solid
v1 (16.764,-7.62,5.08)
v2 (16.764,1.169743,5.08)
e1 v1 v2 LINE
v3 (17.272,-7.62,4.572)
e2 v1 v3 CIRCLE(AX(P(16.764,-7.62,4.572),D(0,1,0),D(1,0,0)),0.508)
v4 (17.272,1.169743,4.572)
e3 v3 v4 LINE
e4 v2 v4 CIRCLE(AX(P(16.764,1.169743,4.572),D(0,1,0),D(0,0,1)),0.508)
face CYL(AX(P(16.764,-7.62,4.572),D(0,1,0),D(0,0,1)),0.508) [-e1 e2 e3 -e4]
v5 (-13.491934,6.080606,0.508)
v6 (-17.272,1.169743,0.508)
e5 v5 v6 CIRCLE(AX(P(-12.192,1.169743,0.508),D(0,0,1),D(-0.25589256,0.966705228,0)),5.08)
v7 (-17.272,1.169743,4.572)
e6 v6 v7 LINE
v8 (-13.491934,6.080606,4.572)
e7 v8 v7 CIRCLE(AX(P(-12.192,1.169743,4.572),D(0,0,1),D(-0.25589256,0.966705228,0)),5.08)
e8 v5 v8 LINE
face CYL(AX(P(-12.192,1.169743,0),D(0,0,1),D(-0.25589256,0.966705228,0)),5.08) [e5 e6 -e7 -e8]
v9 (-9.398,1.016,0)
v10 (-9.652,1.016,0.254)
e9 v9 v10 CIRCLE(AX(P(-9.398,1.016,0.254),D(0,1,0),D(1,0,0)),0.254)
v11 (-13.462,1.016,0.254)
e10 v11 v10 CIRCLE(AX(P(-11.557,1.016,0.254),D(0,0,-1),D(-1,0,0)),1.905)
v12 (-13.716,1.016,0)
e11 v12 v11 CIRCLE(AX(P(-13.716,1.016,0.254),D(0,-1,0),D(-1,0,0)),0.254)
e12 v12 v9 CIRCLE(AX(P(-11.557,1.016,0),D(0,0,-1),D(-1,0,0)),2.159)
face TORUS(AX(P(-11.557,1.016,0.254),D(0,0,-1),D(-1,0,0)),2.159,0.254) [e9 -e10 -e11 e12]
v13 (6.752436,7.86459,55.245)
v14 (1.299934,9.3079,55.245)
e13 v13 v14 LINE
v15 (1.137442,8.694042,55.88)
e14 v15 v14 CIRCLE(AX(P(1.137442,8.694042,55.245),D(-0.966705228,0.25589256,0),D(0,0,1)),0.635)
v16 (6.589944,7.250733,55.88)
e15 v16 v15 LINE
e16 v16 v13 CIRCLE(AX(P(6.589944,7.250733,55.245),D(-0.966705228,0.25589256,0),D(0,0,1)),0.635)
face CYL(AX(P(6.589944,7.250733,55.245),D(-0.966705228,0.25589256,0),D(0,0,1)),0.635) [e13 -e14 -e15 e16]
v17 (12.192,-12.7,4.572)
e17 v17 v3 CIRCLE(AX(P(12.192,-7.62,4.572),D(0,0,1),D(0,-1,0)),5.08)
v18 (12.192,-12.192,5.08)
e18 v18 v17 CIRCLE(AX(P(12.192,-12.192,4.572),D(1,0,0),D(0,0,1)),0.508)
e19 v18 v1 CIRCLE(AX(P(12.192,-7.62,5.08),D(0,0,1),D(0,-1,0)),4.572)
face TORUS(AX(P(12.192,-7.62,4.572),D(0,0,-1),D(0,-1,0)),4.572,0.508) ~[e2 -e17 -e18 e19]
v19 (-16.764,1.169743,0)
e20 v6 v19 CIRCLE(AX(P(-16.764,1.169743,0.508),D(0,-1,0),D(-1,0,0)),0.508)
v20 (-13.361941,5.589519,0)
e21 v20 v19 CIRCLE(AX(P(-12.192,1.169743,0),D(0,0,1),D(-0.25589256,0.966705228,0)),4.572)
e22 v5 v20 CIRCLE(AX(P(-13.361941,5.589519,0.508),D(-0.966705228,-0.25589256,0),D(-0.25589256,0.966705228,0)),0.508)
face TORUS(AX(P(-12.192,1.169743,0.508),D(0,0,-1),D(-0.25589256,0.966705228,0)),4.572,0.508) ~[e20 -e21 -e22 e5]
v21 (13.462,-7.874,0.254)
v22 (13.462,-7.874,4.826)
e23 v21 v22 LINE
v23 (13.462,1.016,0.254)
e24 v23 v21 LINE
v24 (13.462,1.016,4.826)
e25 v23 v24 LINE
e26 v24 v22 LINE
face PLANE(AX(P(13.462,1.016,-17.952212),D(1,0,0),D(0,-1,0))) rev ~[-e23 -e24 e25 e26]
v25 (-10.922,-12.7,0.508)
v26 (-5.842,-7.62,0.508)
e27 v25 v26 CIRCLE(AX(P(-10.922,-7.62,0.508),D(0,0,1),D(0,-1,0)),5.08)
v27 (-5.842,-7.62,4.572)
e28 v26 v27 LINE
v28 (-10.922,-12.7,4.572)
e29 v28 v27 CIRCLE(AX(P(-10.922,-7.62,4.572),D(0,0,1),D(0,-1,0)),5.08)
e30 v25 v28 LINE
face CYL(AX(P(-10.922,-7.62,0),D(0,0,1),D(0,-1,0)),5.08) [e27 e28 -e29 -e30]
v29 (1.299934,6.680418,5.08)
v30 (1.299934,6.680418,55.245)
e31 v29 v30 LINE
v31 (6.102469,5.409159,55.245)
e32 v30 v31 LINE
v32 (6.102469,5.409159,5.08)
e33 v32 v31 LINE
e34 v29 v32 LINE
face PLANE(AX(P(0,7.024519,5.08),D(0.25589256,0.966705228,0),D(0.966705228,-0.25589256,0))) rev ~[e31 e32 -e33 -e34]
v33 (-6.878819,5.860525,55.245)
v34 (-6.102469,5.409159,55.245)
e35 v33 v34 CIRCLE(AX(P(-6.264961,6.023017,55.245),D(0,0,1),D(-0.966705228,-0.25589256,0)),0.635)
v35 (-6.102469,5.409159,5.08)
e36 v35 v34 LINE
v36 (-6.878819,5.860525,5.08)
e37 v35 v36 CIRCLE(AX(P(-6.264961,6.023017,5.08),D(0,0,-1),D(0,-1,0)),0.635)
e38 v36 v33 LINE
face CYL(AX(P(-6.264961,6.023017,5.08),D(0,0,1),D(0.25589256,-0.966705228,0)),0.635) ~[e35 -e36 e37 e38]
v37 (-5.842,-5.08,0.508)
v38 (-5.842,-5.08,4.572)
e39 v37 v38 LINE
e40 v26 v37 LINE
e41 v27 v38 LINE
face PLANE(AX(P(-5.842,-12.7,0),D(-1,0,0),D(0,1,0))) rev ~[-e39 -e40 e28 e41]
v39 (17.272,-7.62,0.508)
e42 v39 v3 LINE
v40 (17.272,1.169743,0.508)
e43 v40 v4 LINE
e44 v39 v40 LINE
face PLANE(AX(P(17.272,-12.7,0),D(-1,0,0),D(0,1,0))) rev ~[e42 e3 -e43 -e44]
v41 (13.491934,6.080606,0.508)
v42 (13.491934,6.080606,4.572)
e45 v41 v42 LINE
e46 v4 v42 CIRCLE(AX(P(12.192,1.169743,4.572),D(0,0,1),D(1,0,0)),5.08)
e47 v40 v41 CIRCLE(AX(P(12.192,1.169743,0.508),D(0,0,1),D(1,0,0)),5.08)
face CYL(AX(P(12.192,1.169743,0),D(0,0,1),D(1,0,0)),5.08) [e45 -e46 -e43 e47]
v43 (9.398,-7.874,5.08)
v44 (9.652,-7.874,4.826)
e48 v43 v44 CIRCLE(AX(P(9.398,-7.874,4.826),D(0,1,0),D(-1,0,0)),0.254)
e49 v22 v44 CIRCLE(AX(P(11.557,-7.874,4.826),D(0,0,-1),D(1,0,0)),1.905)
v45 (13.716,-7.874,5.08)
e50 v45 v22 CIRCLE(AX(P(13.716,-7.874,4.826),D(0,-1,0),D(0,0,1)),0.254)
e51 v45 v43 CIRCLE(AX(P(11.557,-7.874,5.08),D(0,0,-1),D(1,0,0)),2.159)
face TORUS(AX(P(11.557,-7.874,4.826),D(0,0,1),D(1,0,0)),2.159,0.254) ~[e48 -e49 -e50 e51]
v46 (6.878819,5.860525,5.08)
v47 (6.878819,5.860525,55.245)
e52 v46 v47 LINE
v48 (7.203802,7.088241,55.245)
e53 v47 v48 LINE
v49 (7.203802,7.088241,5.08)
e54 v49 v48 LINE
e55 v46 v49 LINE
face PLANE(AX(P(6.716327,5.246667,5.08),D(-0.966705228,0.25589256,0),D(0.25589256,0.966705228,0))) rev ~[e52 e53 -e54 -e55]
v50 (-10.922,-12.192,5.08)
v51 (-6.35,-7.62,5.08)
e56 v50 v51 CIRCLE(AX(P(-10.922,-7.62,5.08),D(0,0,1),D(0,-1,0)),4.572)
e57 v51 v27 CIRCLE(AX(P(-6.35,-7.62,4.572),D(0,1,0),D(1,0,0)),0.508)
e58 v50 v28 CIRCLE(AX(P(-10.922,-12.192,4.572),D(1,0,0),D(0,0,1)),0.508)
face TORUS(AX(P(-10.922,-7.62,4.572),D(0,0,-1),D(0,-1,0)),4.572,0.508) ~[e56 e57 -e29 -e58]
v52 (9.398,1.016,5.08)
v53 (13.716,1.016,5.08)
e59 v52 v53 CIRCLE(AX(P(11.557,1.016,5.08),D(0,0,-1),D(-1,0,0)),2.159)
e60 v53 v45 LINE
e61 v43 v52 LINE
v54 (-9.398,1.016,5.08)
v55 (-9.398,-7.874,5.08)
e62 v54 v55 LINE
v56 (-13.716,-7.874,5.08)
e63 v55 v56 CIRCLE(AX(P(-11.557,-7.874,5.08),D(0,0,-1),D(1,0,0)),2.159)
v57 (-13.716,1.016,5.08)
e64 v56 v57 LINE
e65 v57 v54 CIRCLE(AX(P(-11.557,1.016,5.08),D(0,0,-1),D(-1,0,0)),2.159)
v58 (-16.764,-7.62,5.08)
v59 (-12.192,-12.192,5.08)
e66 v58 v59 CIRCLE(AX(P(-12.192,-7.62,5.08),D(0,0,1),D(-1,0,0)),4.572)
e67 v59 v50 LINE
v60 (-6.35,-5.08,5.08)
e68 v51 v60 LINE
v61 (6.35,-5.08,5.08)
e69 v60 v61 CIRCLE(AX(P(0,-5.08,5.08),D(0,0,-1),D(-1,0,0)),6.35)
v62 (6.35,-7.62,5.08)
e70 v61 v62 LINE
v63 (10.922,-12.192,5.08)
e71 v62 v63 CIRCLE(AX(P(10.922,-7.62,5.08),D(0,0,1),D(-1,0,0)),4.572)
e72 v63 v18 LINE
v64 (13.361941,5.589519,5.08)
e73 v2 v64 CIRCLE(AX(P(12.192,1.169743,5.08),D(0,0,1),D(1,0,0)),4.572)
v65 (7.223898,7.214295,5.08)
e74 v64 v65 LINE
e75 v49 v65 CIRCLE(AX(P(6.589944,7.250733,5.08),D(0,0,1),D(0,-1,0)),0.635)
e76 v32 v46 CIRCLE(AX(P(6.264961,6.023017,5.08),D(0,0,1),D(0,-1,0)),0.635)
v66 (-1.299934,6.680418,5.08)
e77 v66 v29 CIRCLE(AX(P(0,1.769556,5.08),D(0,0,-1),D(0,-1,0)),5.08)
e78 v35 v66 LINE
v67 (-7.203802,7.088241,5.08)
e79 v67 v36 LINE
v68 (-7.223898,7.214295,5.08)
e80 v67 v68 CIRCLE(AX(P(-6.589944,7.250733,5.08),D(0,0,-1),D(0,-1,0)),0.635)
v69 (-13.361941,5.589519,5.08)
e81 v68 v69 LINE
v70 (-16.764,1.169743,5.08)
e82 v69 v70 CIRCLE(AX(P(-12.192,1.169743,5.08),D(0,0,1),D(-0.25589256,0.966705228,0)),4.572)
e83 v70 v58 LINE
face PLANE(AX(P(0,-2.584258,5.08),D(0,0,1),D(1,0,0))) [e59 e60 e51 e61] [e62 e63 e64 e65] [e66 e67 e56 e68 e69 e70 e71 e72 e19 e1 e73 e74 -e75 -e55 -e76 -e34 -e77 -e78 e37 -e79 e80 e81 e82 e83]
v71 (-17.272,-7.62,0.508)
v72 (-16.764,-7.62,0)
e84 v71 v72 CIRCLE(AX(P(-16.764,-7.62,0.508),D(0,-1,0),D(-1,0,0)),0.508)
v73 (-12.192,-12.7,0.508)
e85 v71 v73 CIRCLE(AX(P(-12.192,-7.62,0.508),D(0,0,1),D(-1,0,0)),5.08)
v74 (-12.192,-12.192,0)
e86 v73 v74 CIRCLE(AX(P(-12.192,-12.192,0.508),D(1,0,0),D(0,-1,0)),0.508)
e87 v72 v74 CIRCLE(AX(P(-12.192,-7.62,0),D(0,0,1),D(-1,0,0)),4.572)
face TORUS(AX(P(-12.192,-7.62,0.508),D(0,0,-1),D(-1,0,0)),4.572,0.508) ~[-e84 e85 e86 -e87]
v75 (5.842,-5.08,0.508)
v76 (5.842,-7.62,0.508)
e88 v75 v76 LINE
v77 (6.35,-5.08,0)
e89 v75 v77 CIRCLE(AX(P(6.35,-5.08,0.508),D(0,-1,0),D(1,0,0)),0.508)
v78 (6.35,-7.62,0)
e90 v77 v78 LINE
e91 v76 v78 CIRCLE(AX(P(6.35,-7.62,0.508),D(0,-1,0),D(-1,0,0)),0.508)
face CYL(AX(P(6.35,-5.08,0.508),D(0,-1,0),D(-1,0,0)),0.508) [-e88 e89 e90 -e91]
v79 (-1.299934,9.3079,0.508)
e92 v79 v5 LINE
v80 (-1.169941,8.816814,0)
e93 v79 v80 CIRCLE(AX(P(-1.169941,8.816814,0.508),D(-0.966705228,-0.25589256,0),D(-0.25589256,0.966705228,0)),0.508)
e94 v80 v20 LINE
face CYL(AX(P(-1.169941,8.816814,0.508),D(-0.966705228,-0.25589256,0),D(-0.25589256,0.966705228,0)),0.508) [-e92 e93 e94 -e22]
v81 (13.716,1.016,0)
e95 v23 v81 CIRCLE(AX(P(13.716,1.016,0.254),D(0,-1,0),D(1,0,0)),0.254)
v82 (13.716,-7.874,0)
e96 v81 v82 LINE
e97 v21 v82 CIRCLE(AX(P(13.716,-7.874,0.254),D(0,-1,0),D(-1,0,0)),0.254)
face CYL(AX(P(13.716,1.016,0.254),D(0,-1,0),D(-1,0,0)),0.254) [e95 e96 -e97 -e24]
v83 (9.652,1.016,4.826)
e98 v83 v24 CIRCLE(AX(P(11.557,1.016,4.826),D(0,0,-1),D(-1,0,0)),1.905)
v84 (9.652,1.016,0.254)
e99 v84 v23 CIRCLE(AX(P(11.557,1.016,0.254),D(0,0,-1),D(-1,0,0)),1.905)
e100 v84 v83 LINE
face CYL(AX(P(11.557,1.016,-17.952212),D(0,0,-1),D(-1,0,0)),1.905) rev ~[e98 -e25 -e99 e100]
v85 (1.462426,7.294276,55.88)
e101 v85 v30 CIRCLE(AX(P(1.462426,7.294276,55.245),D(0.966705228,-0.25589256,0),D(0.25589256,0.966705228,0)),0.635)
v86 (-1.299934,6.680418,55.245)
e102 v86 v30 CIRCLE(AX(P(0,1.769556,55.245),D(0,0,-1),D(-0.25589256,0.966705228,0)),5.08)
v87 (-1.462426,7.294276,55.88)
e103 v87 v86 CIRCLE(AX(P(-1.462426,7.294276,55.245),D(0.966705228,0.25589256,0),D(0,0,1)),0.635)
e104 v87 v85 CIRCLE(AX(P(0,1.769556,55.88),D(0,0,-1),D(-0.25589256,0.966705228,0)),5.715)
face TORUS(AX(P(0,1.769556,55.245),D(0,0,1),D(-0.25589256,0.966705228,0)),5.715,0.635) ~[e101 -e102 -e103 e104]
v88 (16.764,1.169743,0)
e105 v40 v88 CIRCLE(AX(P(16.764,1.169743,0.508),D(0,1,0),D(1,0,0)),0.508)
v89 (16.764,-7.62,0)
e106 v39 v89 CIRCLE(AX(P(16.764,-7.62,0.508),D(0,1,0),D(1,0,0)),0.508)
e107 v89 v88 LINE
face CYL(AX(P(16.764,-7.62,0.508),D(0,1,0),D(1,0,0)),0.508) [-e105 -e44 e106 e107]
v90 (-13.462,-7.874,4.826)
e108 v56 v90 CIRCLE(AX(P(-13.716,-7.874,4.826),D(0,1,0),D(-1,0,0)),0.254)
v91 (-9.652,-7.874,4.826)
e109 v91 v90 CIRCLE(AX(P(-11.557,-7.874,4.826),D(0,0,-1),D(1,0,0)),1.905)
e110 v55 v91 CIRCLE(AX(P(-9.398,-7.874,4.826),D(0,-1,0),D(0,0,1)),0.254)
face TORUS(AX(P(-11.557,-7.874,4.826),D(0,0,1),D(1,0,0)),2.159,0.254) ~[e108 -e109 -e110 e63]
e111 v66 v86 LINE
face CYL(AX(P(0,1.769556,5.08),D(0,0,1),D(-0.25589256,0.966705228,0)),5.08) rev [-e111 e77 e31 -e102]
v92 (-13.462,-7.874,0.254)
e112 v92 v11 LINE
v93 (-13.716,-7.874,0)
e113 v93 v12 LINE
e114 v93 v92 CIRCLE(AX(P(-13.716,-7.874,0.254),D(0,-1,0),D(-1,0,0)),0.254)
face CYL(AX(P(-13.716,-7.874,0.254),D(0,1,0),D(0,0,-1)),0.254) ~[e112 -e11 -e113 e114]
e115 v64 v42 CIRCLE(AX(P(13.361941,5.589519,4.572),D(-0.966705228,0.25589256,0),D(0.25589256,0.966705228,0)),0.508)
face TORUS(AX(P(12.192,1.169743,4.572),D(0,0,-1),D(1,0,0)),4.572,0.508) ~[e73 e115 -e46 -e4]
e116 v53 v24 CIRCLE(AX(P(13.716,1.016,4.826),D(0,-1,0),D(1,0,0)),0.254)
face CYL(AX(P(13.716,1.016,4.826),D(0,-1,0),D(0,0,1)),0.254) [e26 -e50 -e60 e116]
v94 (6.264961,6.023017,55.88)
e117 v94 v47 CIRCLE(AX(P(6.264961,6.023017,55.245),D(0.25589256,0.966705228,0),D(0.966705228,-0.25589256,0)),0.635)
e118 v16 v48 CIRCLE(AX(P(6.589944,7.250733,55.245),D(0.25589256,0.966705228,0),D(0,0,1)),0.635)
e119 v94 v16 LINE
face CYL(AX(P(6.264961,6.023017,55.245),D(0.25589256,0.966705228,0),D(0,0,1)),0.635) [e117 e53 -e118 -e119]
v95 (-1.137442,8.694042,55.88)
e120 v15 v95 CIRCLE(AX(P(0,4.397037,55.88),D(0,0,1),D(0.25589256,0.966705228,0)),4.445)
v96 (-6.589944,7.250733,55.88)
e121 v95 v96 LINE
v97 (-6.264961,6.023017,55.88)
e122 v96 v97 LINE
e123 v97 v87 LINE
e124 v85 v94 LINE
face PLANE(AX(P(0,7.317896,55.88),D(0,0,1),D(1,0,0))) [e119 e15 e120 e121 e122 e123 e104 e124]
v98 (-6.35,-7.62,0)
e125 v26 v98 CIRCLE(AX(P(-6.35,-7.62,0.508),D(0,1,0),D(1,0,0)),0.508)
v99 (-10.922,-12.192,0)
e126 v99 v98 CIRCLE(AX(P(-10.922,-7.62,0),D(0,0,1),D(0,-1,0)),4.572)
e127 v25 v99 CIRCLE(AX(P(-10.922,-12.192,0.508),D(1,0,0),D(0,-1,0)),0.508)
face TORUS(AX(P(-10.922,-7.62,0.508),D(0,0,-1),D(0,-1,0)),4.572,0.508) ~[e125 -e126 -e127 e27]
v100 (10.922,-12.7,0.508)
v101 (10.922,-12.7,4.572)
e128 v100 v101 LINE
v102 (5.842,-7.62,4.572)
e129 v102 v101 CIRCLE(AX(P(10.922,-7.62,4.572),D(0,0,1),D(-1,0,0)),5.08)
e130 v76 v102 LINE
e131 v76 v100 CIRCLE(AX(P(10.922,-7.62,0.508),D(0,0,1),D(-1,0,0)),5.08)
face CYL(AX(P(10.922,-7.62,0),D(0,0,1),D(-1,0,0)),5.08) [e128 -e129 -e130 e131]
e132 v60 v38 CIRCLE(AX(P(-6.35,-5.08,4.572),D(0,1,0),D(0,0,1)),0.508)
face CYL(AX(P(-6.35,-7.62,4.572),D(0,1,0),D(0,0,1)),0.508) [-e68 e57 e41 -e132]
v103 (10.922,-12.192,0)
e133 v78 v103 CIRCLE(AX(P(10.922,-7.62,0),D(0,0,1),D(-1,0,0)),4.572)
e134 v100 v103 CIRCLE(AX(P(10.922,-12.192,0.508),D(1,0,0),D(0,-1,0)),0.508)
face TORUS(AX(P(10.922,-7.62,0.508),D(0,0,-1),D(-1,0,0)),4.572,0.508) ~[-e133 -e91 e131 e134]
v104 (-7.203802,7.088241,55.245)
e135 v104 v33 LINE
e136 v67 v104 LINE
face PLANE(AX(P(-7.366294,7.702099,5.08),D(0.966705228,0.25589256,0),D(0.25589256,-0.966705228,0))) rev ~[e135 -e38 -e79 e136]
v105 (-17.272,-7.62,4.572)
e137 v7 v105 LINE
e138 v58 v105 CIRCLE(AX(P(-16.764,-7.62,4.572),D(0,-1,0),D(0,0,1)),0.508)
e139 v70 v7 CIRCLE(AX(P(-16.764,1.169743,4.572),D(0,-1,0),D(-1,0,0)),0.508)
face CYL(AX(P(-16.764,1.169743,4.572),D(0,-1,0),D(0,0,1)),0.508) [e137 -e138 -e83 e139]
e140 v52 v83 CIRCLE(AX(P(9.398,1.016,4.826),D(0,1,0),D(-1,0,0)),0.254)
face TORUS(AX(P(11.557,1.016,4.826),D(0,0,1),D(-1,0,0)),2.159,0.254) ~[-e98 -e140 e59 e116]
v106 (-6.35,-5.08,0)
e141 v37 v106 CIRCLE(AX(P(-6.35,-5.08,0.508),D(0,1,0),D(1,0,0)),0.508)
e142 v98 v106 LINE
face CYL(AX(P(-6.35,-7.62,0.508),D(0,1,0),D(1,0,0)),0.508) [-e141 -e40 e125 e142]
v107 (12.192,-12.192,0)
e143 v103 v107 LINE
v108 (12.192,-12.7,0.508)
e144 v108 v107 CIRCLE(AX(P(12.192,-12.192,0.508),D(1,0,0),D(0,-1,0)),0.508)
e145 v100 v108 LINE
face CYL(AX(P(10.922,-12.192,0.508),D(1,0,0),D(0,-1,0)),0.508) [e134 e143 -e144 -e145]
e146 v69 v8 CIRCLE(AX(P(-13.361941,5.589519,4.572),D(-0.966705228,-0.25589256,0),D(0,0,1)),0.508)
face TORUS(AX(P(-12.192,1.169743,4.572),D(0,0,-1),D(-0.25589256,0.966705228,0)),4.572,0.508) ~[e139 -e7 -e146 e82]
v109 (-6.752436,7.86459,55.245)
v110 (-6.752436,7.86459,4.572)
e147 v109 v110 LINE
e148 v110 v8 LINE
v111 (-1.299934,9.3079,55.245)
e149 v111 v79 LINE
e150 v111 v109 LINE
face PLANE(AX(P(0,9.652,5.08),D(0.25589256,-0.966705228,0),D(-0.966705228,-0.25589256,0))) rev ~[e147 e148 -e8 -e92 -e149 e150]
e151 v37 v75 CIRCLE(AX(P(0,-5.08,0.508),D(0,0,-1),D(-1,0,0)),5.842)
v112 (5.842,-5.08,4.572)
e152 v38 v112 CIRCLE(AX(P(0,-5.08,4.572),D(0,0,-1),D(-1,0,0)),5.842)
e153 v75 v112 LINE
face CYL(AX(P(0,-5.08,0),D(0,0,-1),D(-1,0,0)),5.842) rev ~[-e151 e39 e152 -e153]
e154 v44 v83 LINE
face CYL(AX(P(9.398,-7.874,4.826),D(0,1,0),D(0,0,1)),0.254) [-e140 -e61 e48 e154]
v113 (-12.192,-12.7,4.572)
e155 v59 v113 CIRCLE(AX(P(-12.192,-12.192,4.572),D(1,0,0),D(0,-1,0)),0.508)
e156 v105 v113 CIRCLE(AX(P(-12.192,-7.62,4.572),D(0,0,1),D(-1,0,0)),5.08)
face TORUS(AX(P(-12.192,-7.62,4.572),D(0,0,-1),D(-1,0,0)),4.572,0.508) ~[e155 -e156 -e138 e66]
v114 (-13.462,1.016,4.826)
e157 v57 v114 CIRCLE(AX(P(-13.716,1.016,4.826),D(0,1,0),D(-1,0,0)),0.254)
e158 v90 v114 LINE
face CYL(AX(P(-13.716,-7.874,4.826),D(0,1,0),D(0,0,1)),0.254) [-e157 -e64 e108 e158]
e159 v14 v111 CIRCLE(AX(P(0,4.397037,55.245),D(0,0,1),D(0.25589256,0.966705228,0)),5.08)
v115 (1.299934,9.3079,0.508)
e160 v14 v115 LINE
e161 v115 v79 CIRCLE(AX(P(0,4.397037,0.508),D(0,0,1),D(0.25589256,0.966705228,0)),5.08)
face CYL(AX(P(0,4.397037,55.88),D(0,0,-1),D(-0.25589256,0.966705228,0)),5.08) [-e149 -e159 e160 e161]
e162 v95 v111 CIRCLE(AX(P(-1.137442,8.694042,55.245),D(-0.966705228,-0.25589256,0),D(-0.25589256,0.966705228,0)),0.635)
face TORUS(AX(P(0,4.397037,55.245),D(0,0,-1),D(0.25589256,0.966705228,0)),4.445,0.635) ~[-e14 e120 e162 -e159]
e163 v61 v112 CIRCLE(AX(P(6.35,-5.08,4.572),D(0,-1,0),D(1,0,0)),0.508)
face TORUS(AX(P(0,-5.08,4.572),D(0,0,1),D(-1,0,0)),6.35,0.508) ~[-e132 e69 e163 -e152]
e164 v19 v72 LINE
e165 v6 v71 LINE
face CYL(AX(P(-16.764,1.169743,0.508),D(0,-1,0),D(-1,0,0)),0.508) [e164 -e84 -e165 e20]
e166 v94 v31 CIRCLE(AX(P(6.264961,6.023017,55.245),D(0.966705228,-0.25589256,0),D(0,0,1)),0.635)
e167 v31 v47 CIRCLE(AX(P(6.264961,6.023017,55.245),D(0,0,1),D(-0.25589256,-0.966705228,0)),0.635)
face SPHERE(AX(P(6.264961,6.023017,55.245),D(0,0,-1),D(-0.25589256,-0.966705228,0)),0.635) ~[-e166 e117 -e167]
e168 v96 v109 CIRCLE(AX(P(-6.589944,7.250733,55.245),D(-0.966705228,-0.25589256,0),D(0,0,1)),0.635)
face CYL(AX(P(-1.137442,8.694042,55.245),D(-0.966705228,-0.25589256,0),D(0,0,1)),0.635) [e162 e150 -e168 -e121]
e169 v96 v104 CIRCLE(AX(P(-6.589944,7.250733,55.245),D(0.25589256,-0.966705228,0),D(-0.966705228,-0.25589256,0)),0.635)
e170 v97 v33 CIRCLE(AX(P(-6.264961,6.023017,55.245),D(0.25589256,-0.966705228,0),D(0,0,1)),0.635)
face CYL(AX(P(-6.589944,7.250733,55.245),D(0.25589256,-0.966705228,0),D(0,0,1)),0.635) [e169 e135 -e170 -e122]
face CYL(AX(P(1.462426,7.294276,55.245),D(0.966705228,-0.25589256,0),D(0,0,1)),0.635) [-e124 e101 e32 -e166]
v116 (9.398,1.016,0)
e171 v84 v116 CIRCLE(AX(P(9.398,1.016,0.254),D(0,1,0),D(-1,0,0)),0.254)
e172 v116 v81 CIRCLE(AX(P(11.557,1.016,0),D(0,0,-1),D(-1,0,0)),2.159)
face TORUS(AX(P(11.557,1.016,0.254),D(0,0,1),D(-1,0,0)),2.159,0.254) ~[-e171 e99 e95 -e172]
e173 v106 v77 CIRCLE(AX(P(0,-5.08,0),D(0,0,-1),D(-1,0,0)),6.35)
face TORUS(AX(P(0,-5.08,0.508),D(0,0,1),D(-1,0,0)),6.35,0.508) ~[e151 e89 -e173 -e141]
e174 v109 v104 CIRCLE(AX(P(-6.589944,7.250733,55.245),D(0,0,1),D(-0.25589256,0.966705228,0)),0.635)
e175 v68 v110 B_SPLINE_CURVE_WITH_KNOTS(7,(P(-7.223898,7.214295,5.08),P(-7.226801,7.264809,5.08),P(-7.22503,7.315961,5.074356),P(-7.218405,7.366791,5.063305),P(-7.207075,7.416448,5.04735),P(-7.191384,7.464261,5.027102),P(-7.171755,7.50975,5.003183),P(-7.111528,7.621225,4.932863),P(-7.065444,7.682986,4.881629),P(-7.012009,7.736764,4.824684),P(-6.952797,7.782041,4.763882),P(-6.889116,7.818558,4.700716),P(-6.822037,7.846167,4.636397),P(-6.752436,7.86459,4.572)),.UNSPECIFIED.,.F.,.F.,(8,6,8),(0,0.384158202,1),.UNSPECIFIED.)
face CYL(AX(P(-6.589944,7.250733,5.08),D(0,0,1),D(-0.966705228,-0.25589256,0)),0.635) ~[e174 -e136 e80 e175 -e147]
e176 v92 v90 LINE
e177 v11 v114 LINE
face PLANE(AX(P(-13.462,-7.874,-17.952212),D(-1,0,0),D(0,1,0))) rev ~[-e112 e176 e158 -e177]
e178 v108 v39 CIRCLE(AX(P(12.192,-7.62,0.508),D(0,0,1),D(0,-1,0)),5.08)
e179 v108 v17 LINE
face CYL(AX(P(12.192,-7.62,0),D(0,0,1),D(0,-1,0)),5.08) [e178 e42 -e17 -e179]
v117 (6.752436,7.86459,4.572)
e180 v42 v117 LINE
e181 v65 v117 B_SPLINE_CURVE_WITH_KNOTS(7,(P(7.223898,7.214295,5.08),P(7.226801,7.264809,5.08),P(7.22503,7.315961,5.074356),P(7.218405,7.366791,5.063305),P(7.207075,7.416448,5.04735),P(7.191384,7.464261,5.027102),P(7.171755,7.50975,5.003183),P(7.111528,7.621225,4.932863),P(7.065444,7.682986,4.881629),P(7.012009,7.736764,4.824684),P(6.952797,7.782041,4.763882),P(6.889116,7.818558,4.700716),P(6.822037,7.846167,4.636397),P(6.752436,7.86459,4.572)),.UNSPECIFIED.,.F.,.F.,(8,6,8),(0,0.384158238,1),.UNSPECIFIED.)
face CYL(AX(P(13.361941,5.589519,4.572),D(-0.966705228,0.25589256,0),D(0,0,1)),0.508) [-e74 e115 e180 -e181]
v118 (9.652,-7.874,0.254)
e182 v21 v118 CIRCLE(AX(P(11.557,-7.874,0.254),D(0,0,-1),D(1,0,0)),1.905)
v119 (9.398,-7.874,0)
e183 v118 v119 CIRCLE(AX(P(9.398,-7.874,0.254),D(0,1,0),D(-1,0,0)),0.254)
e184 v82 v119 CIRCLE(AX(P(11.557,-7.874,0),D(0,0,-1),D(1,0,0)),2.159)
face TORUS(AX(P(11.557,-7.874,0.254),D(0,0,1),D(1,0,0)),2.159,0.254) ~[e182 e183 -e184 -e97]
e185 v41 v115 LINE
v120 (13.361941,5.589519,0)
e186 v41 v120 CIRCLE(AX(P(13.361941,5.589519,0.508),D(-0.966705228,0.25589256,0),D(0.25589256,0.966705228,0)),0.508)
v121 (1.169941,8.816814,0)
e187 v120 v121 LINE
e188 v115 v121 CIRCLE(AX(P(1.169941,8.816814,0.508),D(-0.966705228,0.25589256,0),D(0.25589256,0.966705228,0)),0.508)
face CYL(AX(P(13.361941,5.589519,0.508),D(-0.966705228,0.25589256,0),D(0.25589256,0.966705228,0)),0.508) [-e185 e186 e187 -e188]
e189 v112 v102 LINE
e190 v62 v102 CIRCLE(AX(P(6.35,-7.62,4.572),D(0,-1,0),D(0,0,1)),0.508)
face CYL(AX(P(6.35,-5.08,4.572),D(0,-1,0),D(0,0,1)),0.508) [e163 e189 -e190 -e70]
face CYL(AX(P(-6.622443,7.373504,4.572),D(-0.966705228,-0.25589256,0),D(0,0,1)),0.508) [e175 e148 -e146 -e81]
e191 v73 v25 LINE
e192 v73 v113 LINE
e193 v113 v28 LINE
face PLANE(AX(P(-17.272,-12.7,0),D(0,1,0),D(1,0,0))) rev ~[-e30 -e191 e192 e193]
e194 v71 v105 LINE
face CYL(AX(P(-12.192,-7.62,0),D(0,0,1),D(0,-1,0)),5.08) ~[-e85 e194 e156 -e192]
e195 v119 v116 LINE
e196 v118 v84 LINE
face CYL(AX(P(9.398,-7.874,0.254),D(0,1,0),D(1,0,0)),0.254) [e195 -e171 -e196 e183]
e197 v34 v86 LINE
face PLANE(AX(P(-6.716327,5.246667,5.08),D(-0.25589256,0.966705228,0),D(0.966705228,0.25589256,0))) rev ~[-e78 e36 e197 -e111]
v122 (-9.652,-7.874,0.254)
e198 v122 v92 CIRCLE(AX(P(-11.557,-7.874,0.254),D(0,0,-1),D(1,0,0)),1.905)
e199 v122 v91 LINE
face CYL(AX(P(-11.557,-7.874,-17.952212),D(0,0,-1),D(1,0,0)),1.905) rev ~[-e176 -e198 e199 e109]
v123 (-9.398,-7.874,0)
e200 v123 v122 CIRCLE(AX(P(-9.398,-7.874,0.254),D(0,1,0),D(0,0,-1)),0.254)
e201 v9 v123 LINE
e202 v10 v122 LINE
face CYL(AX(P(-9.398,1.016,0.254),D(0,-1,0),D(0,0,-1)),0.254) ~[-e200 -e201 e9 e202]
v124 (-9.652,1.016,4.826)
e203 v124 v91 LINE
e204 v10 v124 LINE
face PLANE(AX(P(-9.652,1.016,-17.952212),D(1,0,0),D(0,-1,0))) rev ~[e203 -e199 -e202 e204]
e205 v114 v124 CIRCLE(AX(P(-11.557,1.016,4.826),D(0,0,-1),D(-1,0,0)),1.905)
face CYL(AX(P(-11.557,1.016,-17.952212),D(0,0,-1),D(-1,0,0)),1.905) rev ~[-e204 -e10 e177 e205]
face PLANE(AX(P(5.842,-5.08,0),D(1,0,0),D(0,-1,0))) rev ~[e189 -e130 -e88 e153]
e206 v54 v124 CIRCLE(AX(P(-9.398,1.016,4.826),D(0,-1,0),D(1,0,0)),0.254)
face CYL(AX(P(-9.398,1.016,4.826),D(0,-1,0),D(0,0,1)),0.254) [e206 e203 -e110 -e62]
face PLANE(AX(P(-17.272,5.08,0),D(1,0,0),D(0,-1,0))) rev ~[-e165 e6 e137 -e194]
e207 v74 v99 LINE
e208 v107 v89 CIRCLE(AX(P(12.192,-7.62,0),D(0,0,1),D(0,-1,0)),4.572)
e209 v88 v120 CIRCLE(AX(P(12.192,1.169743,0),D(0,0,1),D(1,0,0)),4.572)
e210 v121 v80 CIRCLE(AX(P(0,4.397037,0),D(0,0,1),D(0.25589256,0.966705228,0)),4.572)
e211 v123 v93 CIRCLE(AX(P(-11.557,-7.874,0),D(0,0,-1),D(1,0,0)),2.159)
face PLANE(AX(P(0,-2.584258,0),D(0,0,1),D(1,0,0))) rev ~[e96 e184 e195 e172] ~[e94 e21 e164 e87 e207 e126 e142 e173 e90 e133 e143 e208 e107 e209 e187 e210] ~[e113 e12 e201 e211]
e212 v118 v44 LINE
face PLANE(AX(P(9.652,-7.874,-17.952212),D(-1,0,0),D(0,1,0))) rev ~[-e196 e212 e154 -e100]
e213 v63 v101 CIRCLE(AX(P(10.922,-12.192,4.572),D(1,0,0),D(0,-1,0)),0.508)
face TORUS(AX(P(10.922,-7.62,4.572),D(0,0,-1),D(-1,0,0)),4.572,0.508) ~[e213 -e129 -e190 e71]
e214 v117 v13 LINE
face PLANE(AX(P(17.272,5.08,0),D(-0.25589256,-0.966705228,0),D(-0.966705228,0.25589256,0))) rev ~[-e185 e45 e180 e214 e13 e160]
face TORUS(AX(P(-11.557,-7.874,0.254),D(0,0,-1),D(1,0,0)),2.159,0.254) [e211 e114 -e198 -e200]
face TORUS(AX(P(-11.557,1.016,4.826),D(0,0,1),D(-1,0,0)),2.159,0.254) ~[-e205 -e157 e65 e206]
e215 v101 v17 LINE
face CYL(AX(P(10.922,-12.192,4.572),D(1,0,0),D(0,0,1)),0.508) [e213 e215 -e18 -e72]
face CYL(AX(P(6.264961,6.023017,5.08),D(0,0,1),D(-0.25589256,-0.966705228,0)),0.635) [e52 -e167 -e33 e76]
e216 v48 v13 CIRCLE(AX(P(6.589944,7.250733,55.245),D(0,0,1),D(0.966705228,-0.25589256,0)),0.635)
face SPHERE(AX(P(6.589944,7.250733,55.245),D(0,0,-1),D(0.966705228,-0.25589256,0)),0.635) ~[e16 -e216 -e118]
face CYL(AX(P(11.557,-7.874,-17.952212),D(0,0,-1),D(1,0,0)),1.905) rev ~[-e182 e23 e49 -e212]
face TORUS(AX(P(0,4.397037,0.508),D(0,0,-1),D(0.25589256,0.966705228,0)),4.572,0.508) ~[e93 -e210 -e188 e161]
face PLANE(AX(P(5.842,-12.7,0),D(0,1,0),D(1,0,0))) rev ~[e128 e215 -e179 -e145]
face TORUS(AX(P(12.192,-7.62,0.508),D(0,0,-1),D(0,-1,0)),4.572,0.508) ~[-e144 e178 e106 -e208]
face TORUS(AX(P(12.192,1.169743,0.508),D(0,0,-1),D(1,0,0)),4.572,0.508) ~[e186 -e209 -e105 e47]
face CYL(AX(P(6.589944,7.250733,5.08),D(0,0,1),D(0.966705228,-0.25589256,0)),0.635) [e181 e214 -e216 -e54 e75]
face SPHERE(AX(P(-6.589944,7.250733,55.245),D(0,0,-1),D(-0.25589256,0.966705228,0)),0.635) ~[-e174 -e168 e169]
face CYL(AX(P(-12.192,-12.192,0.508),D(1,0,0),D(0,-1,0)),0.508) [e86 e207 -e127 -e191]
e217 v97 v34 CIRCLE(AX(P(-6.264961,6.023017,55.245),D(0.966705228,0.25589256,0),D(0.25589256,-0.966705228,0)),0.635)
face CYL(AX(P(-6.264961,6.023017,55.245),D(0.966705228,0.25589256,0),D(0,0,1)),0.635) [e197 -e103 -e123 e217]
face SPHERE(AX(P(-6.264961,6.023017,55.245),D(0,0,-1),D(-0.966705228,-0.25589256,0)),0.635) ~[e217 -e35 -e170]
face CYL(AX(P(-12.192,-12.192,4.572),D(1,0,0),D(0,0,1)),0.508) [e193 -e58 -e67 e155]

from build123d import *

# Parameters (mm, degrees)
BOSS_EXTRUDE1_DEPTH     = 5.08
FILLET1_R               = 5.08
CUT_EXTRUDE1_DEPTH      = 23.032212417276664
CUT_EXTRUDE1_DEPTH_BACK = 23.032212417276664
BOSS_EXTRUDE2_DEPTH     = 50.8
FILLET2_R               = 5.08
FILLET3_R               = 0.635
FILLET4_R               = 0.635
FILLET5_R               = 0.508
FILLET6_R               = 0.254


with BuildPart() as part:
    # Sketch1 → Boss-Extrude1 (new body)
    with BuildSketch(Plane.XY):
        with BuildLine():
            Line((-17.271999999999995, -5.080000000000001), (-17.271999999999995, -12.699999999999998))
            Line((-17.271999999999995, -12.699999999999998), (-5.8420000000000005, -12.699999999999998))
            Line((-5.8420000000000005, -12.699999999999998), (-5.842, -5.080000000000001))
            ThreePointArc((-5.842, -5.080000000000001), (3.83e-15, 0.761999999999996), (5.8420000000000005, -5.080000000000001))
            Line((5.8420000000000005, -5.080000000000001), (5.8420000000000005, -12.699999999999998))
            Line((5.8420000000000005, -12.699999999999998), (17.271999999999995, -12.699999999999998))
            Line((17.271999999999995, -12.699999999999998), (17.272000000000002, -5.080000000000001))
            Line((17.272000000000002, -5.080000000000001), (17.272000000000002, 5.079999999999999))
            Line((17.272000000000002, 5.079999999999999), (0, 9.651999999999997))
            Line((0, 9.651999999999997), (-17.271999999999995, 5.079999999999999))
            Line((-17.271999999999995, 5.079999999999999), (-17.271999999999995, -5.080000000000001))
        make_face()
    extrude(amount=BOSS_EXTRUDE1_DEPTH)

    # Fillet1
    fillet1_edges = [part.edges().sort_by_distance(p)[0] for p in [
        (17.271999999999995, -12.699999999999998, 2.54),
        (5.8420000000000005, -12.699999999999998, 2.54),
        (-5.8420000000000005, -12.699999999999998, 2.54),
        (-17.271999999999995, -12.699999999999998, 2.54),
    ]]
    fillet(fillet1_edges, radius=FILLET1_R)

    # Sketch2 → Cut-Extrude1 (cut, two sides: drawn at the far end of the back side and taken through both)
    with BuildSketch(Plane.XY.offset(5.08).offset(-CUT_EXTRUDE1_DEPTH_BACK)):
        with BuildLine():
            Line((-9.651999999999997, 1.0159999999999987), (-9.651999999999997, -7.873999999999999))
            ThreePointArc((-9.651999999999997, -7.873999999999999), (-11.557, -9.779), (-13.462000000000002, -7.873999999999999))
            Line((-13.462000000000002, -7.873999999999999), (-13.462000000000002, 1.0159999999999987))
            ThreePointArc((-13.462000000000002, 1.0159999999999987), (-11.557, 2.9210000000000016), (-9.651999999999997, 1.0159999999999987))
        make_face()
        with BuildLine():
            Line((13.462000000000002, 1.0160000000000007), (13.462000000000003, -7.873999999999999))
            ThreePointArc((13.462000000000003, -7.873999999999999), (11.557, -9.779000000000002), (9.651999999999997, -7.873999999999999))
            Line((9.651999999999997, -7.873999999999999), (9.651999999999997, 1.0160000000000002))
            ThreePointArc((9.651999999999997, 1.0160000000000002), (11.557, 2.9210000000000016), (13.462000000000002, 1.0160000000000007))
        make_face()
    extrude(amount=CUT_EXTRUDE1_DEPTH + CUT_EXTRUDE1_DEPTH_BACK, mode=Mode.SUBTRACT)

    # Sketch3 → Boss-Extrude2 (add)
    with BuildSketch(Plane.XY.offset(5.08)):
        Polygon((-6.716326733101362, 5.2466674116216865), (8.7e-16, 7.02451860567793), (6.716326733101362, 5.246667411621685), (7.36629383630472, 7.702098690389925), (0, 9.651999999999997), (-7.36629383630472, 7.702098690389927), align=None)
    extrude(amount=BOSS_EXTRUDE2_DEPTH)

    # Fillet2
    fillet2_edges = [part.edges().sort_by_distance(p)[0] for p in [
        (8.7e-16, 7.02451860567793, 30.479999999999997),
        (-17.271999999999995, 5.079999999999999, 2.54),
        (0, 9.651999999999997, 27.939999999999998),
        (17.272000000000002, 5.079999999999999, 2.54),
    ]]
    fillet(fillet2_edges, radius=FILLET2_R)

    # Fillet3
    fillet3_edges = [part.edges().sort_by_distance(p)[0] for p in [
        (-7.36629383630472, 7.702098690389927, 30.479999999999997),
        (-6.716326733101362, 5.2466674116216865, 30.479999999999997),
        (6.716326733101362, 5.246667411621685, 30.479999999999997),
        (7.36629383630472, 7.702098690389925, 30.479999999999997),
    ]]
    fillet(fillet3_edges, radius=FILLET3_R)

    # Fillet4
    fillet4_edges = [part.edges().sort_by_distance(p)[0] for p in [
        (4.026185111509681, 8.586245117541553, 55.879999999999995),
        (-4.026185111509695, 8.58624511754155, 55.879999999999995),
        (3.701201559908012, 6.044788780996396, 55.879999999999995),
        (-1.089e-14, 9.47703721135586, 55.879999999999995),
        (5.92e-15, 6.8495558170337905, 55.879999999999995),
        (7.041310284703042, 6.474383051005805, 55.879999999999995),
        (-7.041310284703041, 6.4743830510058045, 55.879999999999995),
        (-3.7012015599080064, 6.044788780996399, 55.879999999999995),
        (-6.584124679642968, 5.474054943570123, 55.879999999999995),
        (6.5841246796429695, 5.474054943570121, 55.879999999999995),
        (-7.138906304356284, 7.569896636931531, 55.879999999999995),
        (7.138906304356284, 7.569896636931532, 55.879999999999995),
    ]]
    fillet(fillet4_edges, radius=FILLET4_R)

    # Fillet5
    fillet5_edges = [part.edges().sort_by_distance(p)[0] for p in [
        (7.395934206406714, 7.69425271006881, 0),
        (5.8420000000000005, -6.35, 0),
        (-17.271999999999995, -3.2251284531456017, 0),
        (-7.39593420640672, 7.694252710068807, 0),
        (-1.089e-14, 9.47703721135586, 0),
        (-16.21754752602339, 4.268350380172661, 0),
        (-8.8e-16, 0.761999999999996, 0),
        (16.217547526023402, 4.268350380172659, 0),
        (-16.21754752602339, 4.268350380172661, 5.08),
        (16.217547526023402, 4.268350380172659, 5.08),
        (17.272, -3.2251284531456026, 0),
        (17.272, -3.2251284531456053, 5.08),
        (11.556999999999999, -12.699999999999998, 0),
        (-5.842, -6.35, 0),
        (-11.556999999999999, -12.699999999999998, 0),
        (-15.784102448427658, -11.212102448427661, 0),
        (-7.329897551572337, -11.212102448427657, 0),
        (-8.8e-16, 0.761999999999996, 5.08),
        (7.329897551572339, -11.212102448427661, 0),
        (15.784102448427655, -11.212102448427661, 0),
        (11.556999999999999, -12.699999999999998, 5.08),
        (-17.271999999999995, -3.2251284531456026, 5.08),
        (-11.556999999999999, -12.699999999999998, 5.08),
        (-5.842, -6.35, 5.08),
        (5.8420000000000005, -6.35, 5.08),
        (-15.784102448427658, -11.212102448427661, 5.08),
        (-7.329897551572337, -11.212102448427657, 5.08),
        (7.329897551572339, -11.212102448427661, 5.08),
        (15.784102448427655, -11.212102448427661, 5.08),
        (10.122185111509694, 6.972598058718023, 5.08),
        (-10.122185111509687, 6.972598058718021, 5.08),
    ]]
    fillet(fillet5_edges, radius=FILLET5_R)

    # Fillet6
    fillet6_edges = [part.edges().sort_by_distance(p)[0] for p in [
        (-11.556999999999999, 2.921000000000001, 0),
        (-9.651999999999997, -3.4290000000000003, 0),
        (-11.556999999999999, -9.779, 0),
        (-13.462000000000002, -3.4290000000000003, 0),
        (-11.556999999999999, 2.921000000000001, 5.08),
        (-13.462000000000002, -3.4290000000000003, 5.08),
        (-11.556999999999999, -9.779, 5.08),
        (-9.651999999999997, -3.4290000000000003, 5.08),
        (11.556999999999999, 2.921000000000001, 0),
        (13.462000000000003, -3.428999999999999, 0),
        (11.557, -9.779, 0),
        (9.651999999999997, -3.4289999999999994, 0),
        (11.556999999999999, 2.921000000000001, 5.08),
        (9.651999999999997, -3.4289999999999994, 5.08),
        (11.557, -9.779, 5.08),
        (13.462000000000003, -3.428999999999999, 5.08),
    ]]
    fillet(fillet6_edges, radius=FILLET6_R)


solid = part.part
